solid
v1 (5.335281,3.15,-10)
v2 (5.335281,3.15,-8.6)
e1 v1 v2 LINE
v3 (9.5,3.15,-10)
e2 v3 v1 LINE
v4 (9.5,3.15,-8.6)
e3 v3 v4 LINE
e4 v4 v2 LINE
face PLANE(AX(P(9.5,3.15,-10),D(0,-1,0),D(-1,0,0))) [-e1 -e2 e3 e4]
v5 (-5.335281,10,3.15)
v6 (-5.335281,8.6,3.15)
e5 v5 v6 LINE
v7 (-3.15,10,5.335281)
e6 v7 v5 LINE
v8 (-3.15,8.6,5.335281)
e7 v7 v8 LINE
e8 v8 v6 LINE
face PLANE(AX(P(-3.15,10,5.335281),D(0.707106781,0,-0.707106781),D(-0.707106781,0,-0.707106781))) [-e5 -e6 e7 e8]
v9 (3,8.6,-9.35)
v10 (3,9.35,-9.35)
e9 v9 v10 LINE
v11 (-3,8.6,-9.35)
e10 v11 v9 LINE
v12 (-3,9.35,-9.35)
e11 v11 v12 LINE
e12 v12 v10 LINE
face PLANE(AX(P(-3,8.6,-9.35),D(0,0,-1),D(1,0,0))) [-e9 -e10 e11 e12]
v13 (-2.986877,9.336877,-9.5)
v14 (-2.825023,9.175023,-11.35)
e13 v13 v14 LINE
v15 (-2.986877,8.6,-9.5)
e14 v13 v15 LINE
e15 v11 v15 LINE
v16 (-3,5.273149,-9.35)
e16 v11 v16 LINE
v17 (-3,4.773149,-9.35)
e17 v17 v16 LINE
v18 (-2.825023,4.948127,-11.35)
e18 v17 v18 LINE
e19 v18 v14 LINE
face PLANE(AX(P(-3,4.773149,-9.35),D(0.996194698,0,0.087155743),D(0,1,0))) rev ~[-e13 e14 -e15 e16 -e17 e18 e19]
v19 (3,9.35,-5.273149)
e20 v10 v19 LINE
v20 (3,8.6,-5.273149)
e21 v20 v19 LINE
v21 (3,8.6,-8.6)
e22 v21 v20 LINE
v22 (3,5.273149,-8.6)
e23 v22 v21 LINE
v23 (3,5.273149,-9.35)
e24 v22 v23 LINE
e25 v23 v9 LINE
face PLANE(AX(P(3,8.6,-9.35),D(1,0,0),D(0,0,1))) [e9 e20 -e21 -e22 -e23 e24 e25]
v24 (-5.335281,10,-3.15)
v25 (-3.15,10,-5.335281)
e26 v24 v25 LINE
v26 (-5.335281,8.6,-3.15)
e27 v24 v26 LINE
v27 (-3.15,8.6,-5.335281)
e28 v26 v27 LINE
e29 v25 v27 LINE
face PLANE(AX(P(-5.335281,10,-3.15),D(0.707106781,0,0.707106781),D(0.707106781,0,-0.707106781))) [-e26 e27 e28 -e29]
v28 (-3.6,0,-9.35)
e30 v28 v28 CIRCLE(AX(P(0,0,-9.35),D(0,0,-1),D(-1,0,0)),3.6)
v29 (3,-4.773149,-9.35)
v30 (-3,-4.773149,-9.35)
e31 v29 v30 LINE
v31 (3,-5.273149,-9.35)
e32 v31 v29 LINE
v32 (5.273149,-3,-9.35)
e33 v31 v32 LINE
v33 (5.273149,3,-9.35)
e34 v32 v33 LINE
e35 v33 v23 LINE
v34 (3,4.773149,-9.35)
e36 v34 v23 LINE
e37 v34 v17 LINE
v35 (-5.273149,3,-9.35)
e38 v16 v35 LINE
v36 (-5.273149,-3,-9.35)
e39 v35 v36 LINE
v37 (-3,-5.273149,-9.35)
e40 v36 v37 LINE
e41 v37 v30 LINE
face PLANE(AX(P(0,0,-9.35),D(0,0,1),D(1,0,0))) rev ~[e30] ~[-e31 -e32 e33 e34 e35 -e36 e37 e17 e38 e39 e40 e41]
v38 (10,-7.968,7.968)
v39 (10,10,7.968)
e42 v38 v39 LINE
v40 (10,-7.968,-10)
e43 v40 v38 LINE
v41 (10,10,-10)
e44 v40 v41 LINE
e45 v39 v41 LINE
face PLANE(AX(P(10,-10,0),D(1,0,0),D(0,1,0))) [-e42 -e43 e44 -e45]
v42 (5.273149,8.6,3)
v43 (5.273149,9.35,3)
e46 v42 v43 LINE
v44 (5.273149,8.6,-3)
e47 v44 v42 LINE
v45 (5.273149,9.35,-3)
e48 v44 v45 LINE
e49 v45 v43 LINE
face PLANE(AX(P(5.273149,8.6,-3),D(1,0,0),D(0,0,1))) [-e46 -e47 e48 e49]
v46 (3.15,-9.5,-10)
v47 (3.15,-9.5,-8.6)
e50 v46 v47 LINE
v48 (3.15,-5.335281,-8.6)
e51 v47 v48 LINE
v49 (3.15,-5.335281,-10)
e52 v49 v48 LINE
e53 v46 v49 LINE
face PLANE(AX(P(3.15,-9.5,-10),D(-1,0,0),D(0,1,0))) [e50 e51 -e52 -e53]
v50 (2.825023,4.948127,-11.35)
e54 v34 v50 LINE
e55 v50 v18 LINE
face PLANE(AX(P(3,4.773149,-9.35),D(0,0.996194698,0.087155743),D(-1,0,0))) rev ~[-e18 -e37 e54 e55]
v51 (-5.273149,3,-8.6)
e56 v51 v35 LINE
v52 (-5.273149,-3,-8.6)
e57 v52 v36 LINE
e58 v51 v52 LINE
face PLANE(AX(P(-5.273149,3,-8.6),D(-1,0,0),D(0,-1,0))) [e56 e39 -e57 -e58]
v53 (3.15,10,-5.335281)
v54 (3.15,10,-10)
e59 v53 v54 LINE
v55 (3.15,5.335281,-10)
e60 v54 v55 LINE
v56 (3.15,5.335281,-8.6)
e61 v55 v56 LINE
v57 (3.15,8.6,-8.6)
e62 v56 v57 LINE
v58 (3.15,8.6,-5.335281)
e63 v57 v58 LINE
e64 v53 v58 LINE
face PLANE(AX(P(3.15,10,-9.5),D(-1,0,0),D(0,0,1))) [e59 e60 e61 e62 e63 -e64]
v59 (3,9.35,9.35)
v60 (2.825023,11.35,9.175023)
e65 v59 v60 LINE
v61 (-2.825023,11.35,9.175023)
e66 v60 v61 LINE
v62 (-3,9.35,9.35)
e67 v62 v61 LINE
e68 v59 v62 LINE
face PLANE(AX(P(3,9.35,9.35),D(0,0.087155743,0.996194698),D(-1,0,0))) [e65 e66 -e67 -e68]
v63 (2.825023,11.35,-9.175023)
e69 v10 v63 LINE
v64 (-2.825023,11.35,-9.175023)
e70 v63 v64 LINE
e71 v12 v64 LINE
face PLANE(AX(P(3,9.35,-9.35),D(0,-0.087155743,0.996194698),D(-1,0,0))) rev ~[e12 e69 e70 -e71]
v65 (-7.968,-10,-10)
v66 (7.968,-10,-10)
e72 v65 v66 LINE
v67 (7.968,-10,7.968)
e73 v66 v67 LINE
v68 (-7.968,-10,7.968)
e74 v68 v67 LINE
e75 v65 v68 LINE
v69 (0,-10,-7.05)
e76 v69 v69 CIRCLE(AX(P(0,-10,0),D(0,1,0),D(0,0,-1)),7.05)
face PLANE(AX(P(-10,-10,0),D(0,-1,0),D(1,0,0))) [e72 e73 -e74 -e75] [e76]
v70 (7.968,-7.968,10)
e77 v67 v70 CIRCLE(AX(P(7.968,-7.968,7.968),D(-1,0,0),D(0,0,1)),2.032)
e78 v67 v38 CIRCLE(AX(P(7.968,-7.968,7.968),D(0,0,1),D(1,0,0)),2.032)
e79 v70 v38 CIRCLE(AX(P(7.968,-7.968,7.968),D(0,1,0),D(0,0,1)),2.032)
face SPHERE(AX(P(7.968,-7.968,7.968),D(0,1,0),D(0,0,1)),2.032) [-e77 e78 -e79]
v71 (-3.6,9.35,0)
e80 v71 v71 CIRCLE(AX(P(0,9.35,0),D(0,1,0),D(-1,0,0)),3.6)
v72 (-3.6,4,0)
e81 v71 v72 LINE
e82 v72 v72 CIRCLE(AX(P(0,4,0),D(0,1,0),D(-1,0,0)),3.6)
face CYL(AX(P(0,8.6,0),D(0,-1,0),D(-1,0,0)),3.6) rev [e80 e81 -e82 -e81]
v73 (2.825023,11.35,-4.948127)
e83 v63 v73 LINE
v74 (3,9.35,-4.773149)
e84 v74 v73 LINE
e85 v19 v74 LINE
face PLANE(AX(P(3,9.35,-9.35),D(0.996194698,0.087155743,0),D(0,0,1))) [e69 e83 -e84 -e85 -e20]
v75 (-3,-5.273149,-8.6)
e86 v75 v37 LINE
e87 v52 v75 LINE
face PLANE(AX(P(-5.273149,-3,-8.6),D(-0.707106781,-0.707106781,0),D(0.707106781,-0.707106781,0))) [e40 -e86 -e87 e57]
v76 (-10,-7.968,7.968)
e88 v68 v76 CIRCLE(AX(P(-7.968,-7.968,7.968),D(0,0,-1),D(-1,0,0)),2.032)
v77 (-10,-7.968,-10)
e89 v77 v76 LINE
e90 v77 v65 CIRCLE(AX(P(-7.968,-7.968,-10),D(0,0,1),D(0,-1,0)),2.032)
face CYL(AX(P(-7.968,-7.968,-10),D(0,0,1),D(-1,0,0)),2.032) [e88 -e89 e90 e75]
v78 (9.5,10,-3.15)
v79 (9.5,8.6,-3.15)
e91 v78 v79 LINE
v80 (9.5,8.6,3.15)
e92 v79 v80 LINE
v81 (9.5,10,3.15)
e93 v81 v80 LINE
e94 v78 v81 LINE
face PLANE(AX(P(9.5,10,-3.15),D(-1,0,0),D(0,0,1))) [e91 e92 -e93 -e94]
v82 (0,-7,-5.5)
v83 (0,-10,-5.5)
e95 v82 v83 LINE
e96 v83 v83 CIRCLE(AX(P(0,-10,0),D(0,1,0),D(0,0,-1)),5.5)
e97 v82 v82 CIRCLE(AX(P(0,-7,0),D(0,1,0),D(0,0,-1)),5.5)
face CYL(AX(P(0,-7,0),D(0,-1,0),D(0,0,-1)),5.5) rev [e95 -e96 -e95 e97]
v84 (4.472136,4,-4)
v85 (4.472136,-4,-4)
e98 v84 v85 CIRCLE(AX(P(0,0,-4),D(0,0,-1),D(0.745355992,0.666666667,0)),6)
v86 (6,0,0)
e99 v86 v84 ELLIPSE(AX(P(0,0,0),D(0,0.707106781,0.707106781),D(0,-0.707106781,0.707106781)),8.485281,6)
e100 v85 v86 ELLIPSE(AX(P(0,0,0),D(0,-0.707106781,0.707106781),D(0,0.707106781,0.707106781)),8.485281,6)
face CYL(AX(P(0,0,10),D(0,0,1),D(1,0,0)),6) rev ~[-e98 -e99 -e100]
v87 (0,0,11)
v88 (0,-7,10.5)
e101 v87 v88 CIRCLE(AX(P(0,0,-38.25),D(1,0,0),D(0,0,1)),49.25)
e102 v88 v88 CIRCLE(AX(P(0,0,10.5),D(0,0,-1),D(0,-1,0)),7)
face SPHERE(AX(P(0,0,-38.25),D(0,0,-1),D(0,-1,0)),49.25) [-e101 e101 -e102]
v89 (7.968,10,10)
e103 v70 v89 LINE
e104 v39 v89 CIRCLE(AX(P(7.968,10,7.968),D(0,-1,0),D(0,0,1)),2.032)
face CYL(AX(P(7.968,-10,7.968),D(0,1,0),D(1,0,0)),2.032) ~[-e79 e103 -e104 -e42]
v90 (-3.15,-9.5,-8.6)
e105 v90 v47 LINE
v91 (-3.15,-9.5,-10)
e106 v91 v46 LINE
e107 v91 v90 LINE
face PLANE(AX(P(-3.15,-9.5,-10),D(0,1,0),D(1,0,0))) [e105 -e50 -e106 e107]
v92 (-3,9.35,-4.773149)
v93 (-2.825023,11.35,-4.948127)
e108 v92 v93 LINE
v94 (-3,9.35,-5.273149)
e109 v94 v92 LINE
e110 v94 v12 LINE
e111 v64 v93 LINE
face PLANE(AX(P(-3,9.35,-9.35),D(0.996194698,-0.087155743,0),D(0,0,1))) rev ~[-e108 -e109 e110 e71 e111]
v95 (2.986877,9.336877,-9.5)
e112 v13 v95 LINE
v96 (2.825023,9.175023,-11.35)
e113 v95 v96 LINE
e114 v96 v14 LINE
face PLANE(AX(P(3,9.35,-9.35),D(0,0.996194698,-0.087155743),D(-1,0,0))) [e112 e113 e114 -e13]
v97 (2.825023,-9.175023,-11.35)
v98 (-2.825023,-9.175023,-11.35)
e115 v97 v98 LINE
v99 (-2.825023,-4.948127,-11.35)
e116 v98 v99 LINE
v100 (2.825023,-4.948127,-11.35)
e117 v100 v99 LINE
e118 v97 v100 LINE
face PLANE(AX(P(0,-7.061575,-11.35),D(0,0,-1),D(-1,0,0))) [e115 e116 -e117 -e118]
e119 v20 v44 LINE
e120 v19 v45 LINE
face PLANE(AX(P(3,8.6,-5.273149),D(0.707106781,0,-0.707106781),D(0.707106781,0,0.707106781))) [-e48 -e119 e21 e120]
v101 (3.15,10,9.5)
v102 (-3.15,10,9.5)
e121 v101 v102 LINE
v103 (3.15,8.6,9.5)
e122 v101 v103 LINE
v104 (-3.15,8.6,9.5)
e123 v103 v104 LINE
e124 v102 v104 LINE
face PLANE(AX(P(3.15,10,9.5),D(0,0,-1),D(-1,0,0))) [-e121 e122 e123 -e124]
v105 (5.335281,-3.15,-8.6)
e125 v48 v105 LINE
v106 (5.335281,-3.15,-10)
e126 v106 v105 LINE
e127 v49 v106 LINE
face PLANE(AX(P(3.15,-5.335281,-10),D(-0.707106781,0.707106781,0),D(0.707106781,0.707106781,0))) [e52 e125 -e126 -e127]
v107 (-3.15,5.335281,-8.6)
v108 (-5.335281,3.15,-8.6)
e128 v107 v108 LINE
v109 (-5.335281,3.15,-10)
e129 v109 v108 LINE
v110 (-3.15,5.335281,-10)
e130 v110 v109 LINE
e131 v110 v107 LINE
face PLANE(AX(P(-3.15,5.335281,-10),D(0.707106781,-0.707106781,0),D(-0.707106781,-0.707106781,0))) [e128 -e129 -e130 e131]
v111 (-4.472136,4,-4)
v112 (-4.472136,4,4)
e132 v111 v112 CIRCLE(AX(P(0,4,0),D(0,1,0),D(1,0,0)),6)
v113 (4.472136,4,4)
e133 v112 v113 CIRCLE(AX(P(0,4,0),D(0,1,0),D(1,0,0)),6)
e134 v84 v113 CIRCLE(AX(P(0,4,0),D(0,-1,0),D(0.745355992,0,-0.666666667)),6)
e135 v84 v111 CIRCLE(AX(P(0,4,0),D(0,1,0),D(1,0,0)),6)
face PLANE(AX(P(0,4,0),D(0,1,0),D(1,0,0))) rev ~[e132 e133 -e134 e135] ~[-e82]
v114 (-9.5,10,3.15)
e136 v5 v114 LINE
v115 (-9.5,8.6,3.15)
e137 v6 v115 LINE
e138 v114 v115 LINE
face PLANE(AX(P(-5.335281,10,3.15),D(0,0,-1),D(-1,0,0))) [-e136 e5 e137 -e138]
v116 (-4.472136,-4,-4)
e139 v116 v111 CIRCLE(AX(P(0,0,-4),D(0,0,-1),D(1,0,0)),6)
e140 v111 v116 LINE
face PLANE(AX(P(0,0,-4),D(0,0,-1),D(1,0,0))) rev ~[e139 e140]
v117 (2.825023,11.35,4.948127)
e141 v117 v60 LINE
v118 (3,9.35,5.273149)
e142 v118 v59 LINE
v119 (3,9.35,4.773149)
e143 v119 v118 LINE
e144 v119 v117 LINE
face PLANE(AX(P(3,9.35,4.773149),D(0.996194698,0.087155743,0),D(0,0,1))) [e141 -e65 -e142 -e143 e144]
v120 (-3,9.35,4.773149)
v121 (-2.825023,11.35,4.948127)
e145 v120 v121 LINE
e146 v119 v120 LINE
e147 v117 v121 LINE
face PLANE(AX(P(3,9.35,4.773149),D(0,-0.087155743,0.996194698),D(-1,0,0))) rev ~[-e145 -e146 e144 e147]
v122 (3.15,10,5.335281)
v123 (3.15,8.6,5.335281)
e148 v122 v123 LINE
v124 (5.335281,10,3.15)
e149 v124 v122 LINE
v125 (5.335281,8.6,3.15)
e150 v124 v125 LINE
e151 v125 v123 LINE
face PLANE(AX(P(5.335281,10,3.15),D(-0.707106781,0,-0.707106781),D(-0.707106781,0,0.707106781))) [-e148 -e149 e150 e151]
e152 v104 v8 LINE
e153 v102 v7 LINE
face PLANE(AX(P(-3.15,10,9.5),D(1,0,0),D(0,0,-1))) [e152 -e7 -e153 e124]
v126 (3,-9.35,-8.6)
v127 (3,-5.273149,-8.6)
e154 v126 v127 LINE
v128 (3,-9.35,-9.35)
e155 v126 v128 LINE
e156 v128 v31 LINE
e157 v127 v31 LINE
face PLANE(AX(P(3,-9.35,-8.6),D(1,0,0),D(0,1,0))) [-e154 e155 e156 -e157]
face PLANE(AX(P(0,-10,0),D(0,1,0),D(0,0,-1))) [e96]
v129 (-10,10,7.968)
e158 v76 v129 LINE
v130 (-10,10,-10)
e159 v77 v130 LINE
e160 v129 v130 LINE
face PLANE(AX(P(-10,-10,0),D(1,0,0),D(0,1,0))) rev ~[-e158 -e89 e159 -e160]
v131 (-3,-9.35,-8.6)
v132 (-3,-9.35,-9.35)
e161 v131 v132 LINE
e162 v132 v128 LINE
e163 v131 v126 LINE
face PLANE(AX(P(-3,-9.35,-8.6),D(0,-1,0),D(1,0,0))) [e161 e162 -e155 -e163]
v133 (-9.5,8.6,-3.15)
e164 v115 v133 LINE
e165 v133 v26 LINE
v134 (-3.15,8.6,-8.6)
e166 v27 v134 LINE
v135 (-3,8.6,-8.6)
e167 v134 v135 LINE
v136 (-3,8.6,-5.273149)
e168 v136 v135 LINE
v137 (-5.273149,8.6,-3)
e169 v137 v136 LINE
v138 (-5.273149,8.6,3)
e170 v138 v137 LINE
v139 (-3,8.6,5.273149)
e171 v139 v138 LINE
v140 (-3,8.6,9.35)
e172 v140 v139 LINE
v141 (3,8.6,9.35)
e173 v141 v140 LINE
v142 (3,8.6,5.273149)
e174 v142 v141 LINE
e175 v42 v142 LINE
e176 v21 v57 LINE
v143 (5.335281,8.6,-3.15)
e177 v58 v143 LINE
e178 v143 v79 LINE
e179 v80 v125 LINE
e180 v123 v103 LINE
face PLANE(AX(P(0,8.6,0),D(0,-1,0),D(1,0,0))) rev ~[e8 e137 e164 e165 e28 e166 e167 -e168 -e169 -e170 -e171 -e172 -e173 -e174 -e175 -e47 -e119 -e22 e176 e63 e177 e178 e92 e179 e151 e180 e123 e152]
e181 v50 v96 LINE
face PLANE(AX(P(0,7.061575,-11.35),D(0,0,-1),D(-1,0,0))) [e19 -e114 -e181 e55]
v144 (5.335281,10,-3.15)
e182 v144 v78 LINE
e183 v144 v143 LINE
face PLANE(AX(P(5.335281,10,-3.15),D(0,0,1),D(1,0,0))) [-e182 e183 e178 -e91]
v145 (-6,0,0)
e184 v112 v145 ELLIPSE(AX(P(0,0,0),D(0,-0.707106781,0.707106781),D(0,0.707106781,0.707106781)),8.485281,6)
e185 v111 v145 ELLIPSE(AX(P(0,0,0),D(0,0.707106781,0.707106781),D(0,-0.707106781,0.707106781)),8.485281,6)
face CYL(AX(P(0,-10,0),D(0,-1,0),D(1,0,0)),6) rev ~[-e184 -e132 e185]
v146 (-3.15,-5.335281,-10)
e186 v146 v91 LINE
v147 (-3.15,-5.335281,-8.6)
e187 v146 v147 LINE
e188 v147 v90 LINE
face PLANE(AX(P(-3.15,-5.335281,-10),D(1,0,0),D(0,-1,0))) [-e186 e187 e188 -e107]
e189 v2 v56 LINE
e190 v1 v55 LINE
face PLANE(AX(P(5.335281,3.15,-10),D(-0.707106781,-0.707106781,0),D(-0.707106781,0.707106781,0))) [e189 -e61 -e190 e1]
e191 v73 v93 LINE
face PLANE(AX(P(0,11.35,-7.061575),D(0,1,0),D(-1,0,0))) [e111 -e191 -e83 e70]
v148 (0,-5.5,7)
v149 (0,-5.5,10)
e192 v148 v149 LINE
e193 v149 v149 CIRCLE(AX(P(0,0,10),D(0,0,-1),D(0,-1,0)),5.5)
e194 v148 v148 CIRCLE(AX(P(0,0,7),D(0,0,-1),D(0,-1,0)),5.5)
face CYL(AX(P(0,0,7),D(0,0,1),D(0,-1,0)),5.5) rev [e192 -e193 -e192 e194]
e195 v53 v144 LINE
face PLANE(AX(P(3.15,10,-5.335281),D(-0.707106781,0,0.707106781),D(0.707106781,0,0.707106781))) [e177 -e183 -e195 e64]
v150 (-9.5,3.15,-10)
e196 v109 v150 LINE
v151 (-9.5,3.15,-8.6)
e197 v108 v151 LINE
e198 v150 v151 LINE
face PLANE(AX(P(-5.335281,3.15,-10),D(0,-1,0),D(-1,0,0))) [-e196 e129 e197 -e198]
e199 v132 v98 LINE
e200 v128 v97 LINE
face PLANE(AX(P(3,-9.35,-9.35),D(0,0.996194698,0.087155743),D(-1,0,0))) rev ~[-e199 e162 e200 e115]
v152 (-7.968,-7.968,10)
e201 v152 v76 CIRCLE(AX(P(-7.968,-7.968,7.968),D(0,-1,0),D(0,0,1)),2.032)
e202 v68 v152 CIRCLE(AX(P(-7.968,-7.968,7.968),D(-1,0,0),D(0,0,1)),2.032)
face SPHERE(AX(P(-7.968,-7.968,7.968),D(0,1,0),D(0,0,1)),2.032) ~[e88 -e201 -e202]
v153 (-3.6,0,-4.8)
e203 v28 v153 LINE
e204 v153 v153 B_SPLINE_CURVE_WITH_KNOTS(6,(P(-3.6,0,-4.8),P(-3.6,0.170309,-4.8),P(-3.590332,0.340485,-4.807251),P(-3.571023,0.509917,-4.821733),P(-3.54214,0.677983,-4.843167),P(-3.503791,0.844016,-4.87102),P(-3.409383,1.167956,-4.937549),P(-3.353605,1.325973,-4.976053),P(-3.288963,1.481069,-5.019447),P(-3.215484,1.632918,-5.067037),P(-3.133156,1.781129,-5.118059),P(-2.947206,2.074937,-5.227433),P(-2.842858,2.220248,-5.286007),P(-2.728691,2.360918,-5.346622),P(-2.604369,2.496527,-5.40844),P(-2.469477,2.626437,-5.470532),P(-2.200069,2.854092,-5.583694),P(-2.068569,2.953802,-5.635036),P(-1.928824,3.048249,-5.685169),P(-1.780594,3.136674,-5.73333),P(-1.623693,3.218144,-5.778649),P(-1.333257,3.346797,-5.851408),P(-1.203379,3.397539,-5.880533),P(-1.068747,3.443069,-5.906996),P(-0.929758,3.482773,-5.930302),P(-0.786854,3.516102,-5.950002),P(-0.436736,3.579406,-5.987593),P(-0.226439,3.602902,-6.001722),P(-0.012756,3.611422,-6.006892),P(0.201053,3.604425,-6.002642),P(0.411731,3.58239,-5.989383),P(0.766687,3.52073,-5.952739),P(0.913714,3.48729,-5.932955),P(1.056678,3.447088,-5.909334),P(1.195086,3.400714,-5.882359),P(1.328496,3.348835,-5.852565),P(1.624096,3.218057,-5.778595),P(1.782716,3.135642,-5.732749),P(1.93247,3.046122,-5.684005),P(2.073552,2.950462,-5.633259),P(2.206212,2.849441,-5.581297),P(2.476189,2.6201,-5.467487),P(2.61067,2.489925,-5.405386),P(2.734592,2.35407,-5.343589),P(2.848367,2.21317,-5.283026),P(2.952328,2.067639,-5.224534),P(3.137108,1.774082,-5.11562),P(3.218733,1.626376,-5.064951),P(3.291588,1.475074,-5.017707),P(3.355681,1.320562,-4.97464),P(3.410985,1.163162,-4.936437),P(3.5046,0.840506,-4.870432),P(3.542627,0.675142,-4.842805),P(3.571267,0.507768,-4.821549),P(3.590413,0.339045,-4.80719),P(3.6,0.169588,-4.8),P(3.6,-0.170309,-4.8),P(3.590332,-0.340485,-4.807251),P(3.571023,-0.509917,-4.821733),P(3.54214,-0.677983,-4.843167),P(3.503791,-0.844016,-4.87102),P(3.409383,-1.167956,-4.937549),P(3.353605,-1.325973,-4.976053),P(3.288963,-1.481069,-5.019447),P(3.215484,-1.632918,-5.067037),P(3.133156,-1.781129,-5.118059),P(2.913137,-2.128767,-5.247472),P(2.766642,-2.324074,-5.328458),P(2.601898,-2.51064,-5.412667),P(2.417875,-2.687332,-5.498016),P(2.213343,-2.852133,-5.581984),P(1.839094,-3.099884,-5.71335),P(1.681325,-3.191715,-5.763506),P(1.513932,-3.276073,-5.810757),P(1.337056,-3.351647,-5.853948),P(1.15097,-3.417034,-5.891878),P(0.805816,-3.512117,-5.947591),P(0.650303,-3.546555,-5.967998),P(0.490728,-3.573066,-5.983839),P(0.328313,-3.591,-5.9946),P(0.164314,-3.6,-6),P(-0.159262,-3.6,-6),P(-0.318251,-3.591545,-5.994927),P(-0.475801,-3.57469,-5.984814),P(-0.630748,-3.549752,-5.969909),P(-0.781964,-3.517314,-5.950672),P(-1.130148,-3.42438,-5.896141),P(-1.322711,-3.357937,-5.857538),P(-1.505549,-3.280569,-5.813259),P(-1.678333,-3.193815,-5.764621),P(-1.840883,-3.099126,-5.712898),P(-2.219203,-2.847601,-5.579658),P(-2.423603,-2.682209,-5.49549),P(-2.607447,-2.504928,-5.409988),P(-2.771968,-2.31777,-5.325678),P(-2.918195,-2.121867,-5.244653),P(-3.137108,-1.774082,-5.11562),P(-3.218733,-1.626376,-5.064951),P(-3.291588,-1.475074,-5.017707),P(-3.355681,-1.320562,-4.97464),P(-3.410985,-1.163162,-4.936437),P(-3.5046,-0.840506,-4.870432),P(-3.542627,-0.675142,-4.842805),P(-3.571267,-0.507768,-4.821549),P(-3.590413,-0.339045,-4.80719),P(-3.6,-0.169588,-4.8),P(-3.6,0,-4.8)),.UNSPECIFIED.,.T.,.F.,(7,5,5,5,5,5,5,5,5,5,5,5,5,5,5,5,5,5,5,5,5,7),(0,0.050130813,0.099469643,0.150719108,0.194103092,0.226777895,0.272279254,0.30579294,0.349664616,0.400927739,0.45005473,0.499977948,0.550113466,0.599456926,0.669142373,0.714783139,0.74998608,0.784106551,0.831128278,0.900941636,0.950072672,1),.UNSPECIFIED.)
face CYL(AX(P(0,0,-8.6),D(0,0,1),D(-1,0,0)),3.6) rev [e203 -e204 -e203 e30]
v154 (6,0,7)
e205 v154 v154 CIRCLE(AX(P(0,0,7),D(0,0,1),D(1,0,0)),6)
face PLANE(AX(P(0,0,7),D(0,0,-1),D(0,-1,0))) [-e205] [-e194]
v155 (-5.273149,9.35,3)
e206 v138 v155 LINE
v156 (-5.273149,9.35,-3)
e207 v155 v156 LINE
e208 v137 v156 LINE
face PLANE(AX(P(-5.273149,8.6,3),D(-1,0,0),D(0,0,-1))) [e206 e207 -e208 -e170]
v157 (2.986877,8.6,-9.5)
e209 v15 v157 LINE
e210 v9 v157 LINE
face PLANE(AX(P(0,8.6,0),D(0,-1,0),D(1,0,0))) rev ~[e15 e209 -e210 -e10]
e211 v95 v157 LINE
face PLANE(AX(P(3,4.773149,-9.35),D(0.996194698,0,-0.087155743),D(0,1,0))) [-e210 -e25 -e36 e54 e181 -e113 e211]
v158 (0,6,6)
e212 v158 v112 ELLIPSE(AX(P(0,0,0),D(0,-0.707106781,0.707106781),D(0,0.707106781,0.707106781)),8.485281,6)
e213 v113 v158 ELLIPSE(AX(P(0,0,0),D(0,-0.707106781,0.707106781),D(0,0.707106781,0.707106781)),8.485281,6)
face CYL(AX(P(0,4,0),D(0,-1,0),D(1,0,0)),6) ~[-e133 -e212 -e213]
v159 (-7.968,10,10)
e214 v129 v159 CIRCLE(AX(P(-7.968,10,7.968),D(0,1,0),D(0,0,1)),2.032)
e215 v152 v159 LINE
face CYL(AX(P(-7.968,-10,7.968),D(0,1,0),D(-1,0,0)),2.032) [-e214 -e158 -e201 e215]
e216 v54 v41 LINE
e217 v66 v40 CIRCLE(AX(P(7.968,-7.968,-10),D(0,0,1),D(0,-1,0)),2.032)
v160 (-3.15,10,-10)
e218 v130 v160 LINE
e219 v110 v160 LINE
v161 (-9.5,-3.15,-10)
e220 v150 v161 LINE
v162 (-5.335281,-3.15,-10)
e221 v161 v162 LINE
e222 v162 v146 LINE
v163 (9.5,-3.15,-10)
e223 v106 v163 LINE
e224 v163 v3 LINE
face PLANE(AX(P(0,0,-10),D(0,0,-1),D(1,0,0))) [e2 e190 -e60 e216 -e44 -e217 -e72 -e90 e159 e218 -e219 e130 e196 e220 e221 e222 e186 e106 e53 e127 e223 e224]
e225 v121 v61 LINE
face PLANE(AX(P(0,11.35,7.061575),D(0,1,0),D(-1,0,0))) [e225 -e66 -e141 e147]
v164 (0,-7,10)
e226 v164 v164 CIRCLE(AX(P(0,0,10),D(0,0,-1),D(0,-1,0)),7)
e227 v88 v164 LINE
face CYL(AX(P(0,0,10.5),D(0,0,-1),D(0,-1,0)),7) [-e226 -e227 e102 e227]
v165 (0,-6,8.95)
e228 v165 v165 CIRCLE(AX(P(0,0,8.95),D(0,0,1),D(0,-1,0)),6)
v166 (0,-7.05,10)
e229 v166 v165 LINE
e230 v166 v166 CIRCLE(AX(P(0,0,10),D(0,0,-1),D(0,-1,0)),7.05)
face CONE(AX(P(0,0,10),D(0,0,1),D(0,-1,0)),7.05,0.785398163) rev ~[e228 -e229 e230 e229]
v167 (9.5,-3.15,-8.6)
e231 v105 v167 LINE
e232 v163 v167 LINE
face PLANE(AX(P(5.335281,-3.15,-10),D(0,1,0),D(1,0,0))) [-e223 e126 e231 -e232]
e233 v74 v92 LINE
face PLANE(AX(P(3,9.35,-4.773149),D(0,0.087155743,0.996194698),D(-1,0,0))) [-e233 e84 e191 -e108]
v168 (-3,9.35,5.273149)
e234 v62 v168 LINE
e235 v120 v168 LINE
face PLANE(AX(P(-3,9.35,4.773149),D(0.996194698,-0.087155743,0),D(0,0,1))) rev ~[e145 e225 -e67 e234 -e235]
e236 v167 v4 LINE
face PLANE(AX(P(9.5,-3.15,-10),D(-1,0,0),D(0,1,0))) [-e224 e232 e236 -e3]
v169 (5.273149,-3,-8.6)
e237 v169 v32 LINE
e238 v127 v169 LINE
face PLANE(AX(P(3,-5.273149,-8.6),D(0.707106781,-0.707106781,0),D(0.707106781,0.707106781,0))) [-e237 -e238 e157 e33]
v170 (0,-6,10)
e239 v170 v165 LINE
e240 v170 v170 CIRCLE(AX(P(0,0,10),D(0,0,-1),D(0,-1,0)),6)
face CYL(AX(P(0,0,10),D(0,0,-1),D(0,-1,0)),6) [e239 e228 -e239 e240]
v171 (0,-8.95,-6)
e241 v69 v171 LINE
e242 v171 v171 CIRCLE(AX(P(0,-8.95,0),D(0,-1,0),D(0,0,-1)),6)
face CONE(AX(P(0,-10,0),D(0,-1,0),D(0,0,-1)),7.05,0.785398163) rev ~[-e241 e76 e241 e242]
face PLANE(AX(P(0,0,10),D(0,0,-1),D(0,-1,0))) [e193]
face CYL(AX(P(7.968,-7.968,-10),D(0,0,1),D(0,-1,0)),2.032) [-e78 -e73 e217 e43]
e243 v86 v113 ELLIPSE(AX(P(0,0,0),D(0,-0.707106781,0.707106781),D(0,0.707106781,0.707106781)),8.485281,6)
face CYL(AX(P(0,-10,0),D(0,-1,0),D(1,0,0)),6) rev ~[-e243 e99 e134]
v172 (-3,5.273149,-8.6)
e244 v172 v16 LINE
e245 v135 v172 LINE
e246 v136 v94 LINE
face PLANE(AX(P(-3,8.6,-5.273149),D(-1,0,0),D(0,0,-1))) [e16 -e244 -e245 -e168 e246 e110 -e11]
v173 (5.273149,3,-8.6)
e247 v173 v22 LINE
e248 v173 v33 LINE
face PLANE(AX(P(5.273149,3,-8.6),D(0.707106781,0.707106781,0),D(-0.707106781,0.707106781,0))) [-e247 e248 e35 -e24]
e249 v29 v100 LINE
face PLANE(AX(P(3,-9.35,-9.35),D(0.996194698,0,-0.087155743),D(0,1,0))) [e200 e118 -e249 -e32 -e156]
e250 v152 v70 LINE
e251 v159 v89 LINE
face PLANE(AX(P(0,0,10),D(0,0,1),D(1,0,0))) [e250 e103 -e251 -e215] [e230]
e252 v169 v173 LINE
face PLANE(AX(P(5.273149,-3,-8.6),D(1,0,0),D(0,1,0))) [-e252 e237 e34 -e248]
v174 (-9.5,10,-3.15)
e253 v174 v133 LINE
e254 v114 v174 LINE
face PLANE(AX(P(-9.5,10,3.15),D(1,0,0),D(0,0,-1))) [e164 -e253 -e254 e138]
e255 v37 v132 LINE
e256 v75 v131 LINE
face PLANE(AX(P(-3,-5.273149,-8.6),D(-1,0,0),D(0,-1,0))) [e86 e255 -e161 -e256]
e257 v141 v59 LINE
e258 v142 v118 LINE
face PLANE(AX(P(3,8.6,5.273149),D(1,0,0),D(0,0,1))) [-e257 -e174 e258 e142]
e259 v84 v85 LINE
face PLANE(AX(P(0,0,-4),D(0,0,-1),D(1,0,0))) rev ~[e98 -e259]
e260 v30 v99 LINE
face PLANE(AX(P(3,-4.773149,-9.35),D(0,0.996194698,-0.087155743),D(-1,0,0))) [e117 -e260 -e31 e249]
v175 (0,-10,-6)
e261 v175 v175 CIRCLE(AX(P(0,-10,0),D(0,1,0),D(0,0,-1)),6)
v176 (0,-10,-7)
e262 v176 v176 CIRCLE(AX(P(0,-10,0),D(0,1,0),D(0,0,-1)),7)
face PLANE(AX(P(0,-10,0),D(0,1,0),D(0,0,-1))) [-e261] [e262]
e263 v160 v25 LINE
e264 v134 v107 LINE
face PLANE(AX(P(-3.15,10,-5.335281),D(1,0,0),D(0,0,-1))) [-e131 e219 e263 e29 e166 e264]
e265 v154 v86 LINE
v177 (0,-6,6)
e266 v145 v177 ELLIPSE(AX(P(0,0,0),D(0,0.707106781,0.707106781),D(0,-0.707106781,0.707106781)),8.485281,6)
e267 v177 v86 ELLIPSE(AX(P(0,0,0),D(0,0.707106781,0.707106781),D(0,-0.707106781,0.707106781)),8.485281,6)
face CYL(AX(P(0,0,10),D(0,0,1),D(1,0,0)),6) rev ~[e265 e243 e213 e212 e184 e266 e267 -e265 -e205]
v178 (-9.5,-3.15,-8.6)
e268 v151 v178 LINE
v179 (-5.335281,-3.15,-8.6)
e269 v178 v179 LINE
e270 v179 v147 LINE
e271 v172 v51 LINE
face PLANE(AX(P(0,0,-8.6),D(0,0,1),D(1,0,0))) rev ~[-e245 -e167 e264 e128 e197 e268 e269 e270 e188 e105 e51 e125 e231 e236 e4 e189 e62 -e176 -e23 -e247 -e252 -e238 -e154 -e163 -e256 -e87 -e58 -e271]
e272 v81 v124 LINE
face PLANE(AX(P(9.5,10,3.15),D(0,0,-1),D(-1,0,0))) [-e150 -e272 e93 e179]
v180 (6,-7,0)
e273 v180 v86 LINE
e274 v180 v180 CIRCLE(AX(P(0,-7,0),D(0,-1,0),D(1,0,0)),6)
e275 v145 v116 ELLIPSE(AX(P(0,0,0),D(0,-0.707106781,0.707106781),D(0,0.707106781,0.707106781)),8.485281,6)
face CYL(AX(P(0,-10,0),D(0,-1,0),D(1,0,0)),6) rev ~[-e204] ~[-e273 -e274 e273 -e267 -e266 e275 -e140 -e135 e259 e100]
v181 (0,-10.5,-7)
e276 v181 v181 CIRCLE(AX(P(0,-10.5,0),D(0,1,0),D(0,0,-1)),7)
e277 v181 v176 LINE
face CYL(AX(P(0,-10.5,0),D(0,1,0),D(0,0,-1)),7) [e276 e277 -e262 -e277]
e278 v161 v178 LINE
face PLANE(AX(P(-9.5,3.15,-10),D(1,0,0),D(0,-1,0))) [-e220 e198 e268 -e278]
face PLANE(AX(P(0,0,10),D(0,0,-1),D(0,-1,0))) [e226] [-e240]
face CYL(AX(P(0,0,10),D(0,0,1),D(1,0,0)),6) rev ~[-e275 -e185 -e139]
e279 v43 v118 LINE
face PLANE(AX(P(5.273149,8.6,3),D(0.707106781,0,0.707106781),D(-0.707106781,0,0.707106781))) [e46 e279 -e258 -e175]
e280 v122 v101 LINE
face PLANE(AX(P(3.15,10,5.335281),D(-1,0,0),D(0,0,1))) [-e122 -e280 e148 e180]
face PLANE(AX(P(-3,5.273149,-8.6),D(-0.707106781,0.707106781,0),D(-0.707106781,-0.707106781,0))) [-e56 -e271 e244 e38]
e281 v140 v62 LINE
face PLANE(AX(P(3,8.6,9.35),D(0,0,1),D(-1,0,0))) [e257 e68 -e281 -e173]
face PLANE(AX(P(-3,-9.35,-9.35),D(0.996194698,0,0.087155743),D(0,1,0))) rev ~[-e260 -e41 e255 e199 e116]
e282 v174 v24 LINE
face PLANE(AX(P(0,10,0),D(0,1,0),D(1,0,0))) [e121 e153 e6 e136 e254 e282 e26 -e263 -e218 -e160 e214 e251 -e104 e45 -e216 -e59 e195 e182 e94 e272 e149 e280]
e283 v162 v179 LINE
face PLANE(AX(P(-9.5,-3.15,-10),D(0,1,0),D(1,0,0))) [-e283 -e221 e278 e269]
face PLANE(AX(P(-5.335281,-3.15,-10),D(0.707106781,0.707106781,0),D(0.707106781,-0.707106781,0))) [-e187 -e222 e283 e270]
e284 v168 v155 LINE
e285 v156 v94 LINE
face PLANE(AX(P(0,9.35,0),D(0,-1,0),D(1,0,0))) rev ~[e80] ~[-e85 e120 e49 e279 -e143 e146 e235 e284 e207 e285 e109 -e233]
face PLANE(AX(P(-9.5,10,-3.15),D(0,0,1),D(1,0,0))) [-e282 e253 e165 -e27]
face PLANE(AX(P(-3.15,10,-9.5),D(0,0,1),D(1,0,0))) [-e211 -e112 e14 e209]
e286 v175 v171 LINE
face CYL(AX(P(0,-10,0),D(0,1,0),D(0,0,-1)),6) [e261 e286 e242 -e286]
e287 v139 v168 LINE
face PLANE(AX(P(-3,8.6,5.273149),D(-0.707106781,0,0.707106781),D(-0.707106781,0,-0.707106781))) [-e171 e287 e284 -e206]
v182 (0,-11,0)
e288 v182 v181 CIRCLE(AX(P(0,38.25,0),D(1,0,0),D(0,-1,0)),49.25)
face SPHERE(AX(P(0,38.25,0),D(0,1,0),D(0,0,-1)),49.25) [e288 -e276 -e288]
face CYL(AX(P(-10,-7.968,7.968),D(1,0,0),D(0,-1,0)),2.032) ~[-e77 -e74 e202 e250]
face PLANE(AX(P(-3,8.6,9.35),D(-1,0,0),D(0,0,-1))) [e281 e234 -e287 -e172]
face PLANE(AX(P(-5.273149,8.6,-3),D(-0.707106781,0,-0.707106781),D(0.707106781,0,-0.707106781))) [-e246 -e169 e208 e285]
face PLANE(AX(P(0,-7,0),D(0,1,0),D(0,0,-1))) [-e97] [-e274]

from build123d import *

# Parameters (mm, degrees)
SKETCH1_W                   = 20
SKETCH1_H                   = 20
EXTRUDE1_DEPTH              = 10
SKETCH2_R                   = 6
CUT_EXTRUDE1_DEPTH          = 25.494897428
EXTRUDE2_START              = -6
SKETCH4_R                   = 6
SKETCH4_R_2                 = 3.6
EXTRUDE2_DEPTH              = 6
CUT_EXTRUDE5_DEPTH          = 1.4
SKETCH13_R                  = 3.6
EXTRUDE3_DEPTH              = 0.75
SKETCH14_W                  = 6
SKETCH14_H                  = 4.57685066
EXTRUDE4_DEPTH              = 2
EXTRUDE4_DRAFT              = 5
EXTRUDE4_PROFILE_2_DEPTH    = 2
EXTRUDE4_PROFILE_2_DRAFT    = 5
FILLET2_R                   = 2.032
CIRPATTERN1_COUNT           = 2
CIRPATTERN1_ANGLE           = 90
CIRPATTERN1_COPY_1_SKETCH_W = 6
CIRPATTERN1_COPY_1_SKETCH_H = 4.57685066
CIRPATTERN1_COPY_1_DEPTH    = 2
CIRPATTERN1_COPY_1_DRAFT    = 5
CIRPATTERN1_COPY_2_SKETCH_W = 6
CIRPATTERN1_COPY_2_SKETCH_H = 4.57685066
CIRPATTERN1_COPY_2_DEPTH    = 2
CIRPATTERN1_COPY_2_DRAFT    = 5
CIRPATTERN1_COPY_3_SKETCH_W = 6
CIRPATTERN1_COPY_3_SKETCH_H = 4.57685066
CIRPATTERN1_COPY_3_DEPTH    = 2
CIRPATTERN1_COPY_3_DRAFT    = 5
SKETCH12_W                  = 6.3
SKETCH12_H                  = 0.5
CUT_EXTRUDE6_DEPTH          = 26.476901303


with BuildPart() as part:
    # Sketch1 → Extrude1 (new, symmetric)
    with BuildSketch(Plane.XY):
        Rectangle(SKETCH1_W, SKETCH1_H)
    extrude(amount=EXTRUDE1_DEPTH, both=True)

    # Sketch2 → Cut-Extrude1 (cut, through all)
    with BuildSketch(Plane.XY.offset(10)):
        Circle(SKETCH2_R)
    cut_extrude1 = extrude(amount=-CUT_EXTRUDE1_DEPTH, mode=Mode.SUBTRACT)

    # Cut-Extrude2 cone 1 section (through the dimple's axis) → Cut-Extrude2 (revolve, cut)
    with BuildSketch(Plane(origin=(0, 0, 10), x_dir=(0, -1, 0), z_dir=(1, 0, 0))):
        Polygon((0, 0), (7.05, 0), (0, 7.05), align=None)
    cut_extrude2 = revolve(axis=Axis((0, 0, 10), (0, 0, -1)), mode=Mode.SUBTRACT)

    # Sketch4 → Extrude2 (add)
    with BuildSketch(Plane(origin=(0, 0, -10), x_dir=(-1, 0, 0), z_dir=(0, 0, -1)).offset(EXTRUDE2_START)):
        with Locations(Location((0, 0, 0), (0, 0, 180))):
            Circle(SKETCH4_R)
        Circle(SKETCH4_R_2, mode=Mode.SUBTRACT)
    extrude2 = extrude(amount=EXTRUDE2_DEPTH)

    # Sketch10 → Cut-Extrude5 (cut)
    with BuildSketch(Plane(origin=(0, 0, -10), x_dir=(-1, 0, 0), z_dir=(0, 0, -1))):
        Polygon((-5.335281374, 3.15), (-3.15, 5.335281374), (-3.15, 9.5), (3.15, 9.5), (3.15, 5.335281374), (5.335281374, 3.15), (9.5, 3.15), (9.5, -3.15), (5.335281374, -3.15), (3.15, -5.335281374), (3.15, -9.5), (-3.15, -9.5), (-3.15, -5.335281374), (-5.335281374, -3.15), (-9.5, -3.15), (-9.5, 3.15), align=None)
    cut_extrude5 = extrude(amount=-CUT_EXTRUDE5_DEPTH, mode=Mode.SUBTRACT)

    # Sketch13 → Extrude3 (add)
    with BuildSketch(Plane(origin=(0, 0, -8.6), x_dir=(-1, 0, 0), z_dir=(0, 0, -1))):
        Polygon((5.27314934, 3), (5.27314934, -3), (3, -5.27314934), (3, -9.35), (-3, -9.35), (-3, -5.27314934), (-5.27314934, -3), (-5.27314934, 3), (-3, 5.27314934), (-3, 9.35), (3, 9.35), (3, 5.27314934), align=None)
        Circle(SKETCH13_R, mode=Mode.SUBTRACT)
    extrude3 = extrude(amount=EXTRUDE3_DEPTH)


with BuildPart() as extrude4_tool:
    # Sketch14 → Extrude4 (with draft: the straight prism first)
    with BuildSketch(Plane(origin=(0, 0, -9.35), x_dir=(-1, 0, 0), z_dir=(0, 0, -1))):
        with Locations((0, 7.06157467)):
            Rectangle(SKETCH14_W, SKETCH14_H)
    extrude(amount=EXTRUDE4_DEPTH)
    # Extrude4: the draft: its side faces are tilted about the plane it starts from
    extrude4_sides = [extrude4_tool.faces().sort_by_distance(p)[0] for p in [
        (3, 7.06157467, -10.35),
        (0, 4.77314934, -10.35),
        (-3, 7.06157467, -10.35),
        (0, 9.35, -10.35),
    ]]
    draft(extrude4_sides, Plane(origin=(0, 0, -9.35), x_dir=(-1, 0, 0), z_dir=(0, 0, -1)), EXTRUDE4_DRAFT)


with BuildPart() as part_1:
    add(part.part)

    # Extrude4: add extrude4_tool
    add(extrude4_tool.part)


with BuildPart() as extrude4_profile_2_tool:
    # Sketch14 → Extrude4 profile 2 (with draft: the straight prism first)
    with BuildSketch(Plane(origin=(0, 0, -9.35), x_dir=(-1, 0, 0), z_dir=(0, 0, -1))):
        with Locations((0, -7.06157467)):
            Rectangle(SKETCH14_W, SKETCH14_H)
    extrude(amount=EXTRUDE4_PROFILE_2_DEPTH)
    # Extrude4 profile 2: the draft: its side faces are tilted about the plane it starts from
    extrude4_profile_2_sides = [extrude4_profile_2_tool.faces().sort_by_distance(p)[0] for p in [
        (0, -9.35, -10.35),
        (-3, -7.06157467, -10.35),
        (0, -4.77314934, -10.35),
        (3, -7.06157467, -10.35),
    ]]
    draft(extrude4_profile_2_sides, Plane(origin=(0, 0, -9.35), x_dir=(-1, 0, 0), z_dir=(0, 0, -1)), EXTRUDE4_PROFILE_2_DRAFT)


with BuildPart() as part_2:
    add(part_1.part)

    # Extrude4 profile 2: add extrude4_profile_2_tool
    add(extrude4_profile_2_tool.part)

    # Fillet2
    fillet2_edges = [part_2.edges().sort_by_distance(p)[0] for p in [
        (10, 0, 10),
        (-10, 0, 10),
        (0, -10, 10),
        (10, -10, 0),
        (-10, -10, 0),
    ]]
    fillet(fillet2_edges, radius=FILLET2_R)

    # Sketch9 → Revolve1 (revolve)
    with BuildSketch(Plane(origin=(0, 0, 0), x_dir=(0, 0, -1), z_dir=(1, 0, 0)), mode=Mode.PRIVATE) as revolve1_sk:
        with BuildLine():
            Line((-10, 7), (-10, 6))
            Line((-10, 6), (-7, 6))
            Line((-7, 6), (-7, 5.5))
            Line((-7, 5.5), (-10, 5.5))
            Line((-10, 5.5), (-10, 0))
            Line((-10, 0), (-11, 0))
            ThreePointArc((-11, 0), (-10.874840967, 3.508917212), (-10.5, 7))
            Line((-10.5, 7), (-10, 7))
        make_face()
    revolve1 = revolve(revolve1_sk.sketch.rotate(Axis((0, 0, 10), (0, 0, -1)), 180), axis=Axis((0, 0, 10), (0, 0, -1)))

    # CirPattern1: Cut-Extrude1, Cut-Extrude2, Extrude2, Cut-Extrude5, Extrude3, Revolve1 ×2 about axis
    cirpattern1_axis = Axis((0, 0, 0), (1, 0, 0))
    add([cut_extrude1.rotate(cirpattern1_axis, i * CIRPATTERN1_ANGLE / (CIRPATTERN1_COUNT - 1)) for i in range(1, CIRPATTERN1_COUNT)], mode=Mode.SUBTRACT)
    add([cut_extrude2.rotate(cirpattern1_axis, i * CIRPATTERN1_ANGLE / (CIRPATTERN1_COUNT - 1)) for i in range(1, CIRPATTERN1_COUNT)], mode=Mode.SUBTRACT)
    add([extrude2.rotate(cirpattern1_axis, i * CIRPATTERN1_ANGLE / (CIRPATTERN1_COUNT - 1)) for i in range(1, CIRPATTERN1_COUNT)])
    add([cut_extrude5.rotate(cirpattern1_axis, i * CIRPATTERN1_ANGLE / (CIRPATTERN1_COUNT - 1)) for i in range(1, CIRPATTERN1_COUNT)], mode=Mode.SUBTRACT)
    add([extrude3.rotate(cirpattern1_axis, i * CIRPATTERN1_ANGLE / (CIRPATTERN1_COUNT - 1)) for i in range(1, CIRPATTERN1_COUNT)])
    add([revolve1.rotate(cirpattern1_axis, i * CIRPATTERN1_ANGLE / (CIRPATTERN1_COUNT - 1)) for i in range(1, CIRPATTERN1_COUNT)])


with BuildPart() as cirpattern1_copy_1_tool:
    # CirPattern1 copy 1 sketch → CirPattern1 copy 1 (with draft: the straight prism first)
    with BuildSketch(Plane(origin=(0, 9.35, 0), x_dir=(-1, 0, 0), z_dir=(0, 1, 0))):
        with Locations((0, 7.06157467)):
            Rectangle(CIRPATTERN1_COPY_1_SKETCH_W, CIRPATTERN1_COPY_1_SKETCH_H)
    extrude(amount=CIRPATTERN1_COPY_1_DEPTH)
    # CirPattern1 copy 1: the draft: its side faces are tilted about the plane it starts from
    cirpattern1_copy_1_sides = [cirpattern1_copy_1_tool.faces().sort_by_distance(p)[0] for p in [
        (3, 10.35, 7.06157467),
        (0, 10.35, 4.77314934),
        (-3, 10.35, 7.06157467),
        (0, 10.35, 9.35),
    ]]
    draft(cirpattern1_copy_1_sides, Plane(origin=(0, 9.35, 0), x_dir=(-1, 0, 0), z_dir=(0, 1, 0)), CIRPATTERN1_COPY_1_DRAFT)


with BuildPart() as part_3:
    add(part_2.part)

    # CirPattern1 copy 1: add cirpattern1_copy_1_tool
    add(cirpattern1_copy_1_tool.part)


with BuildPart() as cirpattern1_copy_2_tool:
    # CirPattern1 copy 2 sketch → CirPattern1 copy 2 (with draft: the straight prism first)
    with BuildSketch(Plane(origin=(0, 9.35, 0), x_dir=(-1, 0, 0), z_dir=(0, 1, 0))):
        with Locations((0, -7.06157467)):
            Rectangle(CIRPATTERN1_COPY_2_SKETCH_W, CIRPATTERN1_COPY_2_SKETCH_H)
    extrude(amount=CIRPATTERN1_COPY_2_DEPTH)
    # CirPattern1 copy 2: the draft: its side faces are tilted about the plane it starts from
    cirpattern1_copy_2_sides = [cirpattern1_copy_2_tool.faces().sort_by_distance(p)[0] for p in [
        (0, 10.35, -9.35),
        (-3, 10.35, -7.06157467),
        (0, 10.35, -4.77314934),
        (3, 10.35, -7.06157467),
    ]]
    draft(cirpattern1_copy_2_sides, Plane(origin=(0, 9.35, 0), x_dir=(-1, 0, 0), z_dir=(0, 1, 0)), CIRPATTERN1_COPY_2_DRAFT)


with BuildPart() as part_4:
    add(part_3.part)

    # CirPattern1 copy 2: add cirpattern1_copy_2_tool
    add(cirpattern1_copy_2_tool.part)


with BuildPart() as cirpattern1_copy_3_tool:
    # CirPattern1 copy 3 sketch → CirPattern1 copy 3 (with draft: the straight prism first)
    with BuildSketch(Plane(origin=(0, 9.35, 0), x_dir=(-1, 0, 0), z_dir=(0, 1, 0))):
        with Locations((0, -7.06157467)):
            Rectangle(CIRPATTERN1_COPY_3_SKETCH_W, CIRPATTERN1_COPY_3_SKETCH_H)
    extrude(amount=CIRPATTERN1_COPY_3_DEPTH)
    # CirPattern1 copy 3: the draft: its side faces are tilted about the plane it starts from
    cirpattern1_copy_3_sides = [cirpattern1_copy_3_tool.faces().sort_by_distance(p)[0] for p in [
        (0, 10.35, -9.35),
        (-3, 10.35, -7.06157467),
        (0, 10.35, -4.77314934),
        (3, 10.35, -7.06157467),
    ]]
    draft(cirpattern1_copy_3_sides, Plane(origin=(0, 9.35, 0), x_dir=(-1, 0, 0), z_dir=(0, 1, 0)), CIRPATTERN1_COPY_3_DRAFT)


with BuildPart() as part_5:
    add(part_4.part)

    # CirPattern1 copy 3: add cirpattern1_copy_3_tool
    add(cirpattern1_copy_3_tool.part)

    # Sketch12 → Cut-Extrude6 (cut, through all)
    with BuildSketch(Plane.XZ.offset(-9.5)):
        with Locations((0, -9.75)):
            Rectangle(SKETCH12_W, SKETCH12_H)
    extrude(amount=-CUT_EXTRUDE6_DEPTH, mode=Mode.SUBTRACT)


solid = part_5.part
